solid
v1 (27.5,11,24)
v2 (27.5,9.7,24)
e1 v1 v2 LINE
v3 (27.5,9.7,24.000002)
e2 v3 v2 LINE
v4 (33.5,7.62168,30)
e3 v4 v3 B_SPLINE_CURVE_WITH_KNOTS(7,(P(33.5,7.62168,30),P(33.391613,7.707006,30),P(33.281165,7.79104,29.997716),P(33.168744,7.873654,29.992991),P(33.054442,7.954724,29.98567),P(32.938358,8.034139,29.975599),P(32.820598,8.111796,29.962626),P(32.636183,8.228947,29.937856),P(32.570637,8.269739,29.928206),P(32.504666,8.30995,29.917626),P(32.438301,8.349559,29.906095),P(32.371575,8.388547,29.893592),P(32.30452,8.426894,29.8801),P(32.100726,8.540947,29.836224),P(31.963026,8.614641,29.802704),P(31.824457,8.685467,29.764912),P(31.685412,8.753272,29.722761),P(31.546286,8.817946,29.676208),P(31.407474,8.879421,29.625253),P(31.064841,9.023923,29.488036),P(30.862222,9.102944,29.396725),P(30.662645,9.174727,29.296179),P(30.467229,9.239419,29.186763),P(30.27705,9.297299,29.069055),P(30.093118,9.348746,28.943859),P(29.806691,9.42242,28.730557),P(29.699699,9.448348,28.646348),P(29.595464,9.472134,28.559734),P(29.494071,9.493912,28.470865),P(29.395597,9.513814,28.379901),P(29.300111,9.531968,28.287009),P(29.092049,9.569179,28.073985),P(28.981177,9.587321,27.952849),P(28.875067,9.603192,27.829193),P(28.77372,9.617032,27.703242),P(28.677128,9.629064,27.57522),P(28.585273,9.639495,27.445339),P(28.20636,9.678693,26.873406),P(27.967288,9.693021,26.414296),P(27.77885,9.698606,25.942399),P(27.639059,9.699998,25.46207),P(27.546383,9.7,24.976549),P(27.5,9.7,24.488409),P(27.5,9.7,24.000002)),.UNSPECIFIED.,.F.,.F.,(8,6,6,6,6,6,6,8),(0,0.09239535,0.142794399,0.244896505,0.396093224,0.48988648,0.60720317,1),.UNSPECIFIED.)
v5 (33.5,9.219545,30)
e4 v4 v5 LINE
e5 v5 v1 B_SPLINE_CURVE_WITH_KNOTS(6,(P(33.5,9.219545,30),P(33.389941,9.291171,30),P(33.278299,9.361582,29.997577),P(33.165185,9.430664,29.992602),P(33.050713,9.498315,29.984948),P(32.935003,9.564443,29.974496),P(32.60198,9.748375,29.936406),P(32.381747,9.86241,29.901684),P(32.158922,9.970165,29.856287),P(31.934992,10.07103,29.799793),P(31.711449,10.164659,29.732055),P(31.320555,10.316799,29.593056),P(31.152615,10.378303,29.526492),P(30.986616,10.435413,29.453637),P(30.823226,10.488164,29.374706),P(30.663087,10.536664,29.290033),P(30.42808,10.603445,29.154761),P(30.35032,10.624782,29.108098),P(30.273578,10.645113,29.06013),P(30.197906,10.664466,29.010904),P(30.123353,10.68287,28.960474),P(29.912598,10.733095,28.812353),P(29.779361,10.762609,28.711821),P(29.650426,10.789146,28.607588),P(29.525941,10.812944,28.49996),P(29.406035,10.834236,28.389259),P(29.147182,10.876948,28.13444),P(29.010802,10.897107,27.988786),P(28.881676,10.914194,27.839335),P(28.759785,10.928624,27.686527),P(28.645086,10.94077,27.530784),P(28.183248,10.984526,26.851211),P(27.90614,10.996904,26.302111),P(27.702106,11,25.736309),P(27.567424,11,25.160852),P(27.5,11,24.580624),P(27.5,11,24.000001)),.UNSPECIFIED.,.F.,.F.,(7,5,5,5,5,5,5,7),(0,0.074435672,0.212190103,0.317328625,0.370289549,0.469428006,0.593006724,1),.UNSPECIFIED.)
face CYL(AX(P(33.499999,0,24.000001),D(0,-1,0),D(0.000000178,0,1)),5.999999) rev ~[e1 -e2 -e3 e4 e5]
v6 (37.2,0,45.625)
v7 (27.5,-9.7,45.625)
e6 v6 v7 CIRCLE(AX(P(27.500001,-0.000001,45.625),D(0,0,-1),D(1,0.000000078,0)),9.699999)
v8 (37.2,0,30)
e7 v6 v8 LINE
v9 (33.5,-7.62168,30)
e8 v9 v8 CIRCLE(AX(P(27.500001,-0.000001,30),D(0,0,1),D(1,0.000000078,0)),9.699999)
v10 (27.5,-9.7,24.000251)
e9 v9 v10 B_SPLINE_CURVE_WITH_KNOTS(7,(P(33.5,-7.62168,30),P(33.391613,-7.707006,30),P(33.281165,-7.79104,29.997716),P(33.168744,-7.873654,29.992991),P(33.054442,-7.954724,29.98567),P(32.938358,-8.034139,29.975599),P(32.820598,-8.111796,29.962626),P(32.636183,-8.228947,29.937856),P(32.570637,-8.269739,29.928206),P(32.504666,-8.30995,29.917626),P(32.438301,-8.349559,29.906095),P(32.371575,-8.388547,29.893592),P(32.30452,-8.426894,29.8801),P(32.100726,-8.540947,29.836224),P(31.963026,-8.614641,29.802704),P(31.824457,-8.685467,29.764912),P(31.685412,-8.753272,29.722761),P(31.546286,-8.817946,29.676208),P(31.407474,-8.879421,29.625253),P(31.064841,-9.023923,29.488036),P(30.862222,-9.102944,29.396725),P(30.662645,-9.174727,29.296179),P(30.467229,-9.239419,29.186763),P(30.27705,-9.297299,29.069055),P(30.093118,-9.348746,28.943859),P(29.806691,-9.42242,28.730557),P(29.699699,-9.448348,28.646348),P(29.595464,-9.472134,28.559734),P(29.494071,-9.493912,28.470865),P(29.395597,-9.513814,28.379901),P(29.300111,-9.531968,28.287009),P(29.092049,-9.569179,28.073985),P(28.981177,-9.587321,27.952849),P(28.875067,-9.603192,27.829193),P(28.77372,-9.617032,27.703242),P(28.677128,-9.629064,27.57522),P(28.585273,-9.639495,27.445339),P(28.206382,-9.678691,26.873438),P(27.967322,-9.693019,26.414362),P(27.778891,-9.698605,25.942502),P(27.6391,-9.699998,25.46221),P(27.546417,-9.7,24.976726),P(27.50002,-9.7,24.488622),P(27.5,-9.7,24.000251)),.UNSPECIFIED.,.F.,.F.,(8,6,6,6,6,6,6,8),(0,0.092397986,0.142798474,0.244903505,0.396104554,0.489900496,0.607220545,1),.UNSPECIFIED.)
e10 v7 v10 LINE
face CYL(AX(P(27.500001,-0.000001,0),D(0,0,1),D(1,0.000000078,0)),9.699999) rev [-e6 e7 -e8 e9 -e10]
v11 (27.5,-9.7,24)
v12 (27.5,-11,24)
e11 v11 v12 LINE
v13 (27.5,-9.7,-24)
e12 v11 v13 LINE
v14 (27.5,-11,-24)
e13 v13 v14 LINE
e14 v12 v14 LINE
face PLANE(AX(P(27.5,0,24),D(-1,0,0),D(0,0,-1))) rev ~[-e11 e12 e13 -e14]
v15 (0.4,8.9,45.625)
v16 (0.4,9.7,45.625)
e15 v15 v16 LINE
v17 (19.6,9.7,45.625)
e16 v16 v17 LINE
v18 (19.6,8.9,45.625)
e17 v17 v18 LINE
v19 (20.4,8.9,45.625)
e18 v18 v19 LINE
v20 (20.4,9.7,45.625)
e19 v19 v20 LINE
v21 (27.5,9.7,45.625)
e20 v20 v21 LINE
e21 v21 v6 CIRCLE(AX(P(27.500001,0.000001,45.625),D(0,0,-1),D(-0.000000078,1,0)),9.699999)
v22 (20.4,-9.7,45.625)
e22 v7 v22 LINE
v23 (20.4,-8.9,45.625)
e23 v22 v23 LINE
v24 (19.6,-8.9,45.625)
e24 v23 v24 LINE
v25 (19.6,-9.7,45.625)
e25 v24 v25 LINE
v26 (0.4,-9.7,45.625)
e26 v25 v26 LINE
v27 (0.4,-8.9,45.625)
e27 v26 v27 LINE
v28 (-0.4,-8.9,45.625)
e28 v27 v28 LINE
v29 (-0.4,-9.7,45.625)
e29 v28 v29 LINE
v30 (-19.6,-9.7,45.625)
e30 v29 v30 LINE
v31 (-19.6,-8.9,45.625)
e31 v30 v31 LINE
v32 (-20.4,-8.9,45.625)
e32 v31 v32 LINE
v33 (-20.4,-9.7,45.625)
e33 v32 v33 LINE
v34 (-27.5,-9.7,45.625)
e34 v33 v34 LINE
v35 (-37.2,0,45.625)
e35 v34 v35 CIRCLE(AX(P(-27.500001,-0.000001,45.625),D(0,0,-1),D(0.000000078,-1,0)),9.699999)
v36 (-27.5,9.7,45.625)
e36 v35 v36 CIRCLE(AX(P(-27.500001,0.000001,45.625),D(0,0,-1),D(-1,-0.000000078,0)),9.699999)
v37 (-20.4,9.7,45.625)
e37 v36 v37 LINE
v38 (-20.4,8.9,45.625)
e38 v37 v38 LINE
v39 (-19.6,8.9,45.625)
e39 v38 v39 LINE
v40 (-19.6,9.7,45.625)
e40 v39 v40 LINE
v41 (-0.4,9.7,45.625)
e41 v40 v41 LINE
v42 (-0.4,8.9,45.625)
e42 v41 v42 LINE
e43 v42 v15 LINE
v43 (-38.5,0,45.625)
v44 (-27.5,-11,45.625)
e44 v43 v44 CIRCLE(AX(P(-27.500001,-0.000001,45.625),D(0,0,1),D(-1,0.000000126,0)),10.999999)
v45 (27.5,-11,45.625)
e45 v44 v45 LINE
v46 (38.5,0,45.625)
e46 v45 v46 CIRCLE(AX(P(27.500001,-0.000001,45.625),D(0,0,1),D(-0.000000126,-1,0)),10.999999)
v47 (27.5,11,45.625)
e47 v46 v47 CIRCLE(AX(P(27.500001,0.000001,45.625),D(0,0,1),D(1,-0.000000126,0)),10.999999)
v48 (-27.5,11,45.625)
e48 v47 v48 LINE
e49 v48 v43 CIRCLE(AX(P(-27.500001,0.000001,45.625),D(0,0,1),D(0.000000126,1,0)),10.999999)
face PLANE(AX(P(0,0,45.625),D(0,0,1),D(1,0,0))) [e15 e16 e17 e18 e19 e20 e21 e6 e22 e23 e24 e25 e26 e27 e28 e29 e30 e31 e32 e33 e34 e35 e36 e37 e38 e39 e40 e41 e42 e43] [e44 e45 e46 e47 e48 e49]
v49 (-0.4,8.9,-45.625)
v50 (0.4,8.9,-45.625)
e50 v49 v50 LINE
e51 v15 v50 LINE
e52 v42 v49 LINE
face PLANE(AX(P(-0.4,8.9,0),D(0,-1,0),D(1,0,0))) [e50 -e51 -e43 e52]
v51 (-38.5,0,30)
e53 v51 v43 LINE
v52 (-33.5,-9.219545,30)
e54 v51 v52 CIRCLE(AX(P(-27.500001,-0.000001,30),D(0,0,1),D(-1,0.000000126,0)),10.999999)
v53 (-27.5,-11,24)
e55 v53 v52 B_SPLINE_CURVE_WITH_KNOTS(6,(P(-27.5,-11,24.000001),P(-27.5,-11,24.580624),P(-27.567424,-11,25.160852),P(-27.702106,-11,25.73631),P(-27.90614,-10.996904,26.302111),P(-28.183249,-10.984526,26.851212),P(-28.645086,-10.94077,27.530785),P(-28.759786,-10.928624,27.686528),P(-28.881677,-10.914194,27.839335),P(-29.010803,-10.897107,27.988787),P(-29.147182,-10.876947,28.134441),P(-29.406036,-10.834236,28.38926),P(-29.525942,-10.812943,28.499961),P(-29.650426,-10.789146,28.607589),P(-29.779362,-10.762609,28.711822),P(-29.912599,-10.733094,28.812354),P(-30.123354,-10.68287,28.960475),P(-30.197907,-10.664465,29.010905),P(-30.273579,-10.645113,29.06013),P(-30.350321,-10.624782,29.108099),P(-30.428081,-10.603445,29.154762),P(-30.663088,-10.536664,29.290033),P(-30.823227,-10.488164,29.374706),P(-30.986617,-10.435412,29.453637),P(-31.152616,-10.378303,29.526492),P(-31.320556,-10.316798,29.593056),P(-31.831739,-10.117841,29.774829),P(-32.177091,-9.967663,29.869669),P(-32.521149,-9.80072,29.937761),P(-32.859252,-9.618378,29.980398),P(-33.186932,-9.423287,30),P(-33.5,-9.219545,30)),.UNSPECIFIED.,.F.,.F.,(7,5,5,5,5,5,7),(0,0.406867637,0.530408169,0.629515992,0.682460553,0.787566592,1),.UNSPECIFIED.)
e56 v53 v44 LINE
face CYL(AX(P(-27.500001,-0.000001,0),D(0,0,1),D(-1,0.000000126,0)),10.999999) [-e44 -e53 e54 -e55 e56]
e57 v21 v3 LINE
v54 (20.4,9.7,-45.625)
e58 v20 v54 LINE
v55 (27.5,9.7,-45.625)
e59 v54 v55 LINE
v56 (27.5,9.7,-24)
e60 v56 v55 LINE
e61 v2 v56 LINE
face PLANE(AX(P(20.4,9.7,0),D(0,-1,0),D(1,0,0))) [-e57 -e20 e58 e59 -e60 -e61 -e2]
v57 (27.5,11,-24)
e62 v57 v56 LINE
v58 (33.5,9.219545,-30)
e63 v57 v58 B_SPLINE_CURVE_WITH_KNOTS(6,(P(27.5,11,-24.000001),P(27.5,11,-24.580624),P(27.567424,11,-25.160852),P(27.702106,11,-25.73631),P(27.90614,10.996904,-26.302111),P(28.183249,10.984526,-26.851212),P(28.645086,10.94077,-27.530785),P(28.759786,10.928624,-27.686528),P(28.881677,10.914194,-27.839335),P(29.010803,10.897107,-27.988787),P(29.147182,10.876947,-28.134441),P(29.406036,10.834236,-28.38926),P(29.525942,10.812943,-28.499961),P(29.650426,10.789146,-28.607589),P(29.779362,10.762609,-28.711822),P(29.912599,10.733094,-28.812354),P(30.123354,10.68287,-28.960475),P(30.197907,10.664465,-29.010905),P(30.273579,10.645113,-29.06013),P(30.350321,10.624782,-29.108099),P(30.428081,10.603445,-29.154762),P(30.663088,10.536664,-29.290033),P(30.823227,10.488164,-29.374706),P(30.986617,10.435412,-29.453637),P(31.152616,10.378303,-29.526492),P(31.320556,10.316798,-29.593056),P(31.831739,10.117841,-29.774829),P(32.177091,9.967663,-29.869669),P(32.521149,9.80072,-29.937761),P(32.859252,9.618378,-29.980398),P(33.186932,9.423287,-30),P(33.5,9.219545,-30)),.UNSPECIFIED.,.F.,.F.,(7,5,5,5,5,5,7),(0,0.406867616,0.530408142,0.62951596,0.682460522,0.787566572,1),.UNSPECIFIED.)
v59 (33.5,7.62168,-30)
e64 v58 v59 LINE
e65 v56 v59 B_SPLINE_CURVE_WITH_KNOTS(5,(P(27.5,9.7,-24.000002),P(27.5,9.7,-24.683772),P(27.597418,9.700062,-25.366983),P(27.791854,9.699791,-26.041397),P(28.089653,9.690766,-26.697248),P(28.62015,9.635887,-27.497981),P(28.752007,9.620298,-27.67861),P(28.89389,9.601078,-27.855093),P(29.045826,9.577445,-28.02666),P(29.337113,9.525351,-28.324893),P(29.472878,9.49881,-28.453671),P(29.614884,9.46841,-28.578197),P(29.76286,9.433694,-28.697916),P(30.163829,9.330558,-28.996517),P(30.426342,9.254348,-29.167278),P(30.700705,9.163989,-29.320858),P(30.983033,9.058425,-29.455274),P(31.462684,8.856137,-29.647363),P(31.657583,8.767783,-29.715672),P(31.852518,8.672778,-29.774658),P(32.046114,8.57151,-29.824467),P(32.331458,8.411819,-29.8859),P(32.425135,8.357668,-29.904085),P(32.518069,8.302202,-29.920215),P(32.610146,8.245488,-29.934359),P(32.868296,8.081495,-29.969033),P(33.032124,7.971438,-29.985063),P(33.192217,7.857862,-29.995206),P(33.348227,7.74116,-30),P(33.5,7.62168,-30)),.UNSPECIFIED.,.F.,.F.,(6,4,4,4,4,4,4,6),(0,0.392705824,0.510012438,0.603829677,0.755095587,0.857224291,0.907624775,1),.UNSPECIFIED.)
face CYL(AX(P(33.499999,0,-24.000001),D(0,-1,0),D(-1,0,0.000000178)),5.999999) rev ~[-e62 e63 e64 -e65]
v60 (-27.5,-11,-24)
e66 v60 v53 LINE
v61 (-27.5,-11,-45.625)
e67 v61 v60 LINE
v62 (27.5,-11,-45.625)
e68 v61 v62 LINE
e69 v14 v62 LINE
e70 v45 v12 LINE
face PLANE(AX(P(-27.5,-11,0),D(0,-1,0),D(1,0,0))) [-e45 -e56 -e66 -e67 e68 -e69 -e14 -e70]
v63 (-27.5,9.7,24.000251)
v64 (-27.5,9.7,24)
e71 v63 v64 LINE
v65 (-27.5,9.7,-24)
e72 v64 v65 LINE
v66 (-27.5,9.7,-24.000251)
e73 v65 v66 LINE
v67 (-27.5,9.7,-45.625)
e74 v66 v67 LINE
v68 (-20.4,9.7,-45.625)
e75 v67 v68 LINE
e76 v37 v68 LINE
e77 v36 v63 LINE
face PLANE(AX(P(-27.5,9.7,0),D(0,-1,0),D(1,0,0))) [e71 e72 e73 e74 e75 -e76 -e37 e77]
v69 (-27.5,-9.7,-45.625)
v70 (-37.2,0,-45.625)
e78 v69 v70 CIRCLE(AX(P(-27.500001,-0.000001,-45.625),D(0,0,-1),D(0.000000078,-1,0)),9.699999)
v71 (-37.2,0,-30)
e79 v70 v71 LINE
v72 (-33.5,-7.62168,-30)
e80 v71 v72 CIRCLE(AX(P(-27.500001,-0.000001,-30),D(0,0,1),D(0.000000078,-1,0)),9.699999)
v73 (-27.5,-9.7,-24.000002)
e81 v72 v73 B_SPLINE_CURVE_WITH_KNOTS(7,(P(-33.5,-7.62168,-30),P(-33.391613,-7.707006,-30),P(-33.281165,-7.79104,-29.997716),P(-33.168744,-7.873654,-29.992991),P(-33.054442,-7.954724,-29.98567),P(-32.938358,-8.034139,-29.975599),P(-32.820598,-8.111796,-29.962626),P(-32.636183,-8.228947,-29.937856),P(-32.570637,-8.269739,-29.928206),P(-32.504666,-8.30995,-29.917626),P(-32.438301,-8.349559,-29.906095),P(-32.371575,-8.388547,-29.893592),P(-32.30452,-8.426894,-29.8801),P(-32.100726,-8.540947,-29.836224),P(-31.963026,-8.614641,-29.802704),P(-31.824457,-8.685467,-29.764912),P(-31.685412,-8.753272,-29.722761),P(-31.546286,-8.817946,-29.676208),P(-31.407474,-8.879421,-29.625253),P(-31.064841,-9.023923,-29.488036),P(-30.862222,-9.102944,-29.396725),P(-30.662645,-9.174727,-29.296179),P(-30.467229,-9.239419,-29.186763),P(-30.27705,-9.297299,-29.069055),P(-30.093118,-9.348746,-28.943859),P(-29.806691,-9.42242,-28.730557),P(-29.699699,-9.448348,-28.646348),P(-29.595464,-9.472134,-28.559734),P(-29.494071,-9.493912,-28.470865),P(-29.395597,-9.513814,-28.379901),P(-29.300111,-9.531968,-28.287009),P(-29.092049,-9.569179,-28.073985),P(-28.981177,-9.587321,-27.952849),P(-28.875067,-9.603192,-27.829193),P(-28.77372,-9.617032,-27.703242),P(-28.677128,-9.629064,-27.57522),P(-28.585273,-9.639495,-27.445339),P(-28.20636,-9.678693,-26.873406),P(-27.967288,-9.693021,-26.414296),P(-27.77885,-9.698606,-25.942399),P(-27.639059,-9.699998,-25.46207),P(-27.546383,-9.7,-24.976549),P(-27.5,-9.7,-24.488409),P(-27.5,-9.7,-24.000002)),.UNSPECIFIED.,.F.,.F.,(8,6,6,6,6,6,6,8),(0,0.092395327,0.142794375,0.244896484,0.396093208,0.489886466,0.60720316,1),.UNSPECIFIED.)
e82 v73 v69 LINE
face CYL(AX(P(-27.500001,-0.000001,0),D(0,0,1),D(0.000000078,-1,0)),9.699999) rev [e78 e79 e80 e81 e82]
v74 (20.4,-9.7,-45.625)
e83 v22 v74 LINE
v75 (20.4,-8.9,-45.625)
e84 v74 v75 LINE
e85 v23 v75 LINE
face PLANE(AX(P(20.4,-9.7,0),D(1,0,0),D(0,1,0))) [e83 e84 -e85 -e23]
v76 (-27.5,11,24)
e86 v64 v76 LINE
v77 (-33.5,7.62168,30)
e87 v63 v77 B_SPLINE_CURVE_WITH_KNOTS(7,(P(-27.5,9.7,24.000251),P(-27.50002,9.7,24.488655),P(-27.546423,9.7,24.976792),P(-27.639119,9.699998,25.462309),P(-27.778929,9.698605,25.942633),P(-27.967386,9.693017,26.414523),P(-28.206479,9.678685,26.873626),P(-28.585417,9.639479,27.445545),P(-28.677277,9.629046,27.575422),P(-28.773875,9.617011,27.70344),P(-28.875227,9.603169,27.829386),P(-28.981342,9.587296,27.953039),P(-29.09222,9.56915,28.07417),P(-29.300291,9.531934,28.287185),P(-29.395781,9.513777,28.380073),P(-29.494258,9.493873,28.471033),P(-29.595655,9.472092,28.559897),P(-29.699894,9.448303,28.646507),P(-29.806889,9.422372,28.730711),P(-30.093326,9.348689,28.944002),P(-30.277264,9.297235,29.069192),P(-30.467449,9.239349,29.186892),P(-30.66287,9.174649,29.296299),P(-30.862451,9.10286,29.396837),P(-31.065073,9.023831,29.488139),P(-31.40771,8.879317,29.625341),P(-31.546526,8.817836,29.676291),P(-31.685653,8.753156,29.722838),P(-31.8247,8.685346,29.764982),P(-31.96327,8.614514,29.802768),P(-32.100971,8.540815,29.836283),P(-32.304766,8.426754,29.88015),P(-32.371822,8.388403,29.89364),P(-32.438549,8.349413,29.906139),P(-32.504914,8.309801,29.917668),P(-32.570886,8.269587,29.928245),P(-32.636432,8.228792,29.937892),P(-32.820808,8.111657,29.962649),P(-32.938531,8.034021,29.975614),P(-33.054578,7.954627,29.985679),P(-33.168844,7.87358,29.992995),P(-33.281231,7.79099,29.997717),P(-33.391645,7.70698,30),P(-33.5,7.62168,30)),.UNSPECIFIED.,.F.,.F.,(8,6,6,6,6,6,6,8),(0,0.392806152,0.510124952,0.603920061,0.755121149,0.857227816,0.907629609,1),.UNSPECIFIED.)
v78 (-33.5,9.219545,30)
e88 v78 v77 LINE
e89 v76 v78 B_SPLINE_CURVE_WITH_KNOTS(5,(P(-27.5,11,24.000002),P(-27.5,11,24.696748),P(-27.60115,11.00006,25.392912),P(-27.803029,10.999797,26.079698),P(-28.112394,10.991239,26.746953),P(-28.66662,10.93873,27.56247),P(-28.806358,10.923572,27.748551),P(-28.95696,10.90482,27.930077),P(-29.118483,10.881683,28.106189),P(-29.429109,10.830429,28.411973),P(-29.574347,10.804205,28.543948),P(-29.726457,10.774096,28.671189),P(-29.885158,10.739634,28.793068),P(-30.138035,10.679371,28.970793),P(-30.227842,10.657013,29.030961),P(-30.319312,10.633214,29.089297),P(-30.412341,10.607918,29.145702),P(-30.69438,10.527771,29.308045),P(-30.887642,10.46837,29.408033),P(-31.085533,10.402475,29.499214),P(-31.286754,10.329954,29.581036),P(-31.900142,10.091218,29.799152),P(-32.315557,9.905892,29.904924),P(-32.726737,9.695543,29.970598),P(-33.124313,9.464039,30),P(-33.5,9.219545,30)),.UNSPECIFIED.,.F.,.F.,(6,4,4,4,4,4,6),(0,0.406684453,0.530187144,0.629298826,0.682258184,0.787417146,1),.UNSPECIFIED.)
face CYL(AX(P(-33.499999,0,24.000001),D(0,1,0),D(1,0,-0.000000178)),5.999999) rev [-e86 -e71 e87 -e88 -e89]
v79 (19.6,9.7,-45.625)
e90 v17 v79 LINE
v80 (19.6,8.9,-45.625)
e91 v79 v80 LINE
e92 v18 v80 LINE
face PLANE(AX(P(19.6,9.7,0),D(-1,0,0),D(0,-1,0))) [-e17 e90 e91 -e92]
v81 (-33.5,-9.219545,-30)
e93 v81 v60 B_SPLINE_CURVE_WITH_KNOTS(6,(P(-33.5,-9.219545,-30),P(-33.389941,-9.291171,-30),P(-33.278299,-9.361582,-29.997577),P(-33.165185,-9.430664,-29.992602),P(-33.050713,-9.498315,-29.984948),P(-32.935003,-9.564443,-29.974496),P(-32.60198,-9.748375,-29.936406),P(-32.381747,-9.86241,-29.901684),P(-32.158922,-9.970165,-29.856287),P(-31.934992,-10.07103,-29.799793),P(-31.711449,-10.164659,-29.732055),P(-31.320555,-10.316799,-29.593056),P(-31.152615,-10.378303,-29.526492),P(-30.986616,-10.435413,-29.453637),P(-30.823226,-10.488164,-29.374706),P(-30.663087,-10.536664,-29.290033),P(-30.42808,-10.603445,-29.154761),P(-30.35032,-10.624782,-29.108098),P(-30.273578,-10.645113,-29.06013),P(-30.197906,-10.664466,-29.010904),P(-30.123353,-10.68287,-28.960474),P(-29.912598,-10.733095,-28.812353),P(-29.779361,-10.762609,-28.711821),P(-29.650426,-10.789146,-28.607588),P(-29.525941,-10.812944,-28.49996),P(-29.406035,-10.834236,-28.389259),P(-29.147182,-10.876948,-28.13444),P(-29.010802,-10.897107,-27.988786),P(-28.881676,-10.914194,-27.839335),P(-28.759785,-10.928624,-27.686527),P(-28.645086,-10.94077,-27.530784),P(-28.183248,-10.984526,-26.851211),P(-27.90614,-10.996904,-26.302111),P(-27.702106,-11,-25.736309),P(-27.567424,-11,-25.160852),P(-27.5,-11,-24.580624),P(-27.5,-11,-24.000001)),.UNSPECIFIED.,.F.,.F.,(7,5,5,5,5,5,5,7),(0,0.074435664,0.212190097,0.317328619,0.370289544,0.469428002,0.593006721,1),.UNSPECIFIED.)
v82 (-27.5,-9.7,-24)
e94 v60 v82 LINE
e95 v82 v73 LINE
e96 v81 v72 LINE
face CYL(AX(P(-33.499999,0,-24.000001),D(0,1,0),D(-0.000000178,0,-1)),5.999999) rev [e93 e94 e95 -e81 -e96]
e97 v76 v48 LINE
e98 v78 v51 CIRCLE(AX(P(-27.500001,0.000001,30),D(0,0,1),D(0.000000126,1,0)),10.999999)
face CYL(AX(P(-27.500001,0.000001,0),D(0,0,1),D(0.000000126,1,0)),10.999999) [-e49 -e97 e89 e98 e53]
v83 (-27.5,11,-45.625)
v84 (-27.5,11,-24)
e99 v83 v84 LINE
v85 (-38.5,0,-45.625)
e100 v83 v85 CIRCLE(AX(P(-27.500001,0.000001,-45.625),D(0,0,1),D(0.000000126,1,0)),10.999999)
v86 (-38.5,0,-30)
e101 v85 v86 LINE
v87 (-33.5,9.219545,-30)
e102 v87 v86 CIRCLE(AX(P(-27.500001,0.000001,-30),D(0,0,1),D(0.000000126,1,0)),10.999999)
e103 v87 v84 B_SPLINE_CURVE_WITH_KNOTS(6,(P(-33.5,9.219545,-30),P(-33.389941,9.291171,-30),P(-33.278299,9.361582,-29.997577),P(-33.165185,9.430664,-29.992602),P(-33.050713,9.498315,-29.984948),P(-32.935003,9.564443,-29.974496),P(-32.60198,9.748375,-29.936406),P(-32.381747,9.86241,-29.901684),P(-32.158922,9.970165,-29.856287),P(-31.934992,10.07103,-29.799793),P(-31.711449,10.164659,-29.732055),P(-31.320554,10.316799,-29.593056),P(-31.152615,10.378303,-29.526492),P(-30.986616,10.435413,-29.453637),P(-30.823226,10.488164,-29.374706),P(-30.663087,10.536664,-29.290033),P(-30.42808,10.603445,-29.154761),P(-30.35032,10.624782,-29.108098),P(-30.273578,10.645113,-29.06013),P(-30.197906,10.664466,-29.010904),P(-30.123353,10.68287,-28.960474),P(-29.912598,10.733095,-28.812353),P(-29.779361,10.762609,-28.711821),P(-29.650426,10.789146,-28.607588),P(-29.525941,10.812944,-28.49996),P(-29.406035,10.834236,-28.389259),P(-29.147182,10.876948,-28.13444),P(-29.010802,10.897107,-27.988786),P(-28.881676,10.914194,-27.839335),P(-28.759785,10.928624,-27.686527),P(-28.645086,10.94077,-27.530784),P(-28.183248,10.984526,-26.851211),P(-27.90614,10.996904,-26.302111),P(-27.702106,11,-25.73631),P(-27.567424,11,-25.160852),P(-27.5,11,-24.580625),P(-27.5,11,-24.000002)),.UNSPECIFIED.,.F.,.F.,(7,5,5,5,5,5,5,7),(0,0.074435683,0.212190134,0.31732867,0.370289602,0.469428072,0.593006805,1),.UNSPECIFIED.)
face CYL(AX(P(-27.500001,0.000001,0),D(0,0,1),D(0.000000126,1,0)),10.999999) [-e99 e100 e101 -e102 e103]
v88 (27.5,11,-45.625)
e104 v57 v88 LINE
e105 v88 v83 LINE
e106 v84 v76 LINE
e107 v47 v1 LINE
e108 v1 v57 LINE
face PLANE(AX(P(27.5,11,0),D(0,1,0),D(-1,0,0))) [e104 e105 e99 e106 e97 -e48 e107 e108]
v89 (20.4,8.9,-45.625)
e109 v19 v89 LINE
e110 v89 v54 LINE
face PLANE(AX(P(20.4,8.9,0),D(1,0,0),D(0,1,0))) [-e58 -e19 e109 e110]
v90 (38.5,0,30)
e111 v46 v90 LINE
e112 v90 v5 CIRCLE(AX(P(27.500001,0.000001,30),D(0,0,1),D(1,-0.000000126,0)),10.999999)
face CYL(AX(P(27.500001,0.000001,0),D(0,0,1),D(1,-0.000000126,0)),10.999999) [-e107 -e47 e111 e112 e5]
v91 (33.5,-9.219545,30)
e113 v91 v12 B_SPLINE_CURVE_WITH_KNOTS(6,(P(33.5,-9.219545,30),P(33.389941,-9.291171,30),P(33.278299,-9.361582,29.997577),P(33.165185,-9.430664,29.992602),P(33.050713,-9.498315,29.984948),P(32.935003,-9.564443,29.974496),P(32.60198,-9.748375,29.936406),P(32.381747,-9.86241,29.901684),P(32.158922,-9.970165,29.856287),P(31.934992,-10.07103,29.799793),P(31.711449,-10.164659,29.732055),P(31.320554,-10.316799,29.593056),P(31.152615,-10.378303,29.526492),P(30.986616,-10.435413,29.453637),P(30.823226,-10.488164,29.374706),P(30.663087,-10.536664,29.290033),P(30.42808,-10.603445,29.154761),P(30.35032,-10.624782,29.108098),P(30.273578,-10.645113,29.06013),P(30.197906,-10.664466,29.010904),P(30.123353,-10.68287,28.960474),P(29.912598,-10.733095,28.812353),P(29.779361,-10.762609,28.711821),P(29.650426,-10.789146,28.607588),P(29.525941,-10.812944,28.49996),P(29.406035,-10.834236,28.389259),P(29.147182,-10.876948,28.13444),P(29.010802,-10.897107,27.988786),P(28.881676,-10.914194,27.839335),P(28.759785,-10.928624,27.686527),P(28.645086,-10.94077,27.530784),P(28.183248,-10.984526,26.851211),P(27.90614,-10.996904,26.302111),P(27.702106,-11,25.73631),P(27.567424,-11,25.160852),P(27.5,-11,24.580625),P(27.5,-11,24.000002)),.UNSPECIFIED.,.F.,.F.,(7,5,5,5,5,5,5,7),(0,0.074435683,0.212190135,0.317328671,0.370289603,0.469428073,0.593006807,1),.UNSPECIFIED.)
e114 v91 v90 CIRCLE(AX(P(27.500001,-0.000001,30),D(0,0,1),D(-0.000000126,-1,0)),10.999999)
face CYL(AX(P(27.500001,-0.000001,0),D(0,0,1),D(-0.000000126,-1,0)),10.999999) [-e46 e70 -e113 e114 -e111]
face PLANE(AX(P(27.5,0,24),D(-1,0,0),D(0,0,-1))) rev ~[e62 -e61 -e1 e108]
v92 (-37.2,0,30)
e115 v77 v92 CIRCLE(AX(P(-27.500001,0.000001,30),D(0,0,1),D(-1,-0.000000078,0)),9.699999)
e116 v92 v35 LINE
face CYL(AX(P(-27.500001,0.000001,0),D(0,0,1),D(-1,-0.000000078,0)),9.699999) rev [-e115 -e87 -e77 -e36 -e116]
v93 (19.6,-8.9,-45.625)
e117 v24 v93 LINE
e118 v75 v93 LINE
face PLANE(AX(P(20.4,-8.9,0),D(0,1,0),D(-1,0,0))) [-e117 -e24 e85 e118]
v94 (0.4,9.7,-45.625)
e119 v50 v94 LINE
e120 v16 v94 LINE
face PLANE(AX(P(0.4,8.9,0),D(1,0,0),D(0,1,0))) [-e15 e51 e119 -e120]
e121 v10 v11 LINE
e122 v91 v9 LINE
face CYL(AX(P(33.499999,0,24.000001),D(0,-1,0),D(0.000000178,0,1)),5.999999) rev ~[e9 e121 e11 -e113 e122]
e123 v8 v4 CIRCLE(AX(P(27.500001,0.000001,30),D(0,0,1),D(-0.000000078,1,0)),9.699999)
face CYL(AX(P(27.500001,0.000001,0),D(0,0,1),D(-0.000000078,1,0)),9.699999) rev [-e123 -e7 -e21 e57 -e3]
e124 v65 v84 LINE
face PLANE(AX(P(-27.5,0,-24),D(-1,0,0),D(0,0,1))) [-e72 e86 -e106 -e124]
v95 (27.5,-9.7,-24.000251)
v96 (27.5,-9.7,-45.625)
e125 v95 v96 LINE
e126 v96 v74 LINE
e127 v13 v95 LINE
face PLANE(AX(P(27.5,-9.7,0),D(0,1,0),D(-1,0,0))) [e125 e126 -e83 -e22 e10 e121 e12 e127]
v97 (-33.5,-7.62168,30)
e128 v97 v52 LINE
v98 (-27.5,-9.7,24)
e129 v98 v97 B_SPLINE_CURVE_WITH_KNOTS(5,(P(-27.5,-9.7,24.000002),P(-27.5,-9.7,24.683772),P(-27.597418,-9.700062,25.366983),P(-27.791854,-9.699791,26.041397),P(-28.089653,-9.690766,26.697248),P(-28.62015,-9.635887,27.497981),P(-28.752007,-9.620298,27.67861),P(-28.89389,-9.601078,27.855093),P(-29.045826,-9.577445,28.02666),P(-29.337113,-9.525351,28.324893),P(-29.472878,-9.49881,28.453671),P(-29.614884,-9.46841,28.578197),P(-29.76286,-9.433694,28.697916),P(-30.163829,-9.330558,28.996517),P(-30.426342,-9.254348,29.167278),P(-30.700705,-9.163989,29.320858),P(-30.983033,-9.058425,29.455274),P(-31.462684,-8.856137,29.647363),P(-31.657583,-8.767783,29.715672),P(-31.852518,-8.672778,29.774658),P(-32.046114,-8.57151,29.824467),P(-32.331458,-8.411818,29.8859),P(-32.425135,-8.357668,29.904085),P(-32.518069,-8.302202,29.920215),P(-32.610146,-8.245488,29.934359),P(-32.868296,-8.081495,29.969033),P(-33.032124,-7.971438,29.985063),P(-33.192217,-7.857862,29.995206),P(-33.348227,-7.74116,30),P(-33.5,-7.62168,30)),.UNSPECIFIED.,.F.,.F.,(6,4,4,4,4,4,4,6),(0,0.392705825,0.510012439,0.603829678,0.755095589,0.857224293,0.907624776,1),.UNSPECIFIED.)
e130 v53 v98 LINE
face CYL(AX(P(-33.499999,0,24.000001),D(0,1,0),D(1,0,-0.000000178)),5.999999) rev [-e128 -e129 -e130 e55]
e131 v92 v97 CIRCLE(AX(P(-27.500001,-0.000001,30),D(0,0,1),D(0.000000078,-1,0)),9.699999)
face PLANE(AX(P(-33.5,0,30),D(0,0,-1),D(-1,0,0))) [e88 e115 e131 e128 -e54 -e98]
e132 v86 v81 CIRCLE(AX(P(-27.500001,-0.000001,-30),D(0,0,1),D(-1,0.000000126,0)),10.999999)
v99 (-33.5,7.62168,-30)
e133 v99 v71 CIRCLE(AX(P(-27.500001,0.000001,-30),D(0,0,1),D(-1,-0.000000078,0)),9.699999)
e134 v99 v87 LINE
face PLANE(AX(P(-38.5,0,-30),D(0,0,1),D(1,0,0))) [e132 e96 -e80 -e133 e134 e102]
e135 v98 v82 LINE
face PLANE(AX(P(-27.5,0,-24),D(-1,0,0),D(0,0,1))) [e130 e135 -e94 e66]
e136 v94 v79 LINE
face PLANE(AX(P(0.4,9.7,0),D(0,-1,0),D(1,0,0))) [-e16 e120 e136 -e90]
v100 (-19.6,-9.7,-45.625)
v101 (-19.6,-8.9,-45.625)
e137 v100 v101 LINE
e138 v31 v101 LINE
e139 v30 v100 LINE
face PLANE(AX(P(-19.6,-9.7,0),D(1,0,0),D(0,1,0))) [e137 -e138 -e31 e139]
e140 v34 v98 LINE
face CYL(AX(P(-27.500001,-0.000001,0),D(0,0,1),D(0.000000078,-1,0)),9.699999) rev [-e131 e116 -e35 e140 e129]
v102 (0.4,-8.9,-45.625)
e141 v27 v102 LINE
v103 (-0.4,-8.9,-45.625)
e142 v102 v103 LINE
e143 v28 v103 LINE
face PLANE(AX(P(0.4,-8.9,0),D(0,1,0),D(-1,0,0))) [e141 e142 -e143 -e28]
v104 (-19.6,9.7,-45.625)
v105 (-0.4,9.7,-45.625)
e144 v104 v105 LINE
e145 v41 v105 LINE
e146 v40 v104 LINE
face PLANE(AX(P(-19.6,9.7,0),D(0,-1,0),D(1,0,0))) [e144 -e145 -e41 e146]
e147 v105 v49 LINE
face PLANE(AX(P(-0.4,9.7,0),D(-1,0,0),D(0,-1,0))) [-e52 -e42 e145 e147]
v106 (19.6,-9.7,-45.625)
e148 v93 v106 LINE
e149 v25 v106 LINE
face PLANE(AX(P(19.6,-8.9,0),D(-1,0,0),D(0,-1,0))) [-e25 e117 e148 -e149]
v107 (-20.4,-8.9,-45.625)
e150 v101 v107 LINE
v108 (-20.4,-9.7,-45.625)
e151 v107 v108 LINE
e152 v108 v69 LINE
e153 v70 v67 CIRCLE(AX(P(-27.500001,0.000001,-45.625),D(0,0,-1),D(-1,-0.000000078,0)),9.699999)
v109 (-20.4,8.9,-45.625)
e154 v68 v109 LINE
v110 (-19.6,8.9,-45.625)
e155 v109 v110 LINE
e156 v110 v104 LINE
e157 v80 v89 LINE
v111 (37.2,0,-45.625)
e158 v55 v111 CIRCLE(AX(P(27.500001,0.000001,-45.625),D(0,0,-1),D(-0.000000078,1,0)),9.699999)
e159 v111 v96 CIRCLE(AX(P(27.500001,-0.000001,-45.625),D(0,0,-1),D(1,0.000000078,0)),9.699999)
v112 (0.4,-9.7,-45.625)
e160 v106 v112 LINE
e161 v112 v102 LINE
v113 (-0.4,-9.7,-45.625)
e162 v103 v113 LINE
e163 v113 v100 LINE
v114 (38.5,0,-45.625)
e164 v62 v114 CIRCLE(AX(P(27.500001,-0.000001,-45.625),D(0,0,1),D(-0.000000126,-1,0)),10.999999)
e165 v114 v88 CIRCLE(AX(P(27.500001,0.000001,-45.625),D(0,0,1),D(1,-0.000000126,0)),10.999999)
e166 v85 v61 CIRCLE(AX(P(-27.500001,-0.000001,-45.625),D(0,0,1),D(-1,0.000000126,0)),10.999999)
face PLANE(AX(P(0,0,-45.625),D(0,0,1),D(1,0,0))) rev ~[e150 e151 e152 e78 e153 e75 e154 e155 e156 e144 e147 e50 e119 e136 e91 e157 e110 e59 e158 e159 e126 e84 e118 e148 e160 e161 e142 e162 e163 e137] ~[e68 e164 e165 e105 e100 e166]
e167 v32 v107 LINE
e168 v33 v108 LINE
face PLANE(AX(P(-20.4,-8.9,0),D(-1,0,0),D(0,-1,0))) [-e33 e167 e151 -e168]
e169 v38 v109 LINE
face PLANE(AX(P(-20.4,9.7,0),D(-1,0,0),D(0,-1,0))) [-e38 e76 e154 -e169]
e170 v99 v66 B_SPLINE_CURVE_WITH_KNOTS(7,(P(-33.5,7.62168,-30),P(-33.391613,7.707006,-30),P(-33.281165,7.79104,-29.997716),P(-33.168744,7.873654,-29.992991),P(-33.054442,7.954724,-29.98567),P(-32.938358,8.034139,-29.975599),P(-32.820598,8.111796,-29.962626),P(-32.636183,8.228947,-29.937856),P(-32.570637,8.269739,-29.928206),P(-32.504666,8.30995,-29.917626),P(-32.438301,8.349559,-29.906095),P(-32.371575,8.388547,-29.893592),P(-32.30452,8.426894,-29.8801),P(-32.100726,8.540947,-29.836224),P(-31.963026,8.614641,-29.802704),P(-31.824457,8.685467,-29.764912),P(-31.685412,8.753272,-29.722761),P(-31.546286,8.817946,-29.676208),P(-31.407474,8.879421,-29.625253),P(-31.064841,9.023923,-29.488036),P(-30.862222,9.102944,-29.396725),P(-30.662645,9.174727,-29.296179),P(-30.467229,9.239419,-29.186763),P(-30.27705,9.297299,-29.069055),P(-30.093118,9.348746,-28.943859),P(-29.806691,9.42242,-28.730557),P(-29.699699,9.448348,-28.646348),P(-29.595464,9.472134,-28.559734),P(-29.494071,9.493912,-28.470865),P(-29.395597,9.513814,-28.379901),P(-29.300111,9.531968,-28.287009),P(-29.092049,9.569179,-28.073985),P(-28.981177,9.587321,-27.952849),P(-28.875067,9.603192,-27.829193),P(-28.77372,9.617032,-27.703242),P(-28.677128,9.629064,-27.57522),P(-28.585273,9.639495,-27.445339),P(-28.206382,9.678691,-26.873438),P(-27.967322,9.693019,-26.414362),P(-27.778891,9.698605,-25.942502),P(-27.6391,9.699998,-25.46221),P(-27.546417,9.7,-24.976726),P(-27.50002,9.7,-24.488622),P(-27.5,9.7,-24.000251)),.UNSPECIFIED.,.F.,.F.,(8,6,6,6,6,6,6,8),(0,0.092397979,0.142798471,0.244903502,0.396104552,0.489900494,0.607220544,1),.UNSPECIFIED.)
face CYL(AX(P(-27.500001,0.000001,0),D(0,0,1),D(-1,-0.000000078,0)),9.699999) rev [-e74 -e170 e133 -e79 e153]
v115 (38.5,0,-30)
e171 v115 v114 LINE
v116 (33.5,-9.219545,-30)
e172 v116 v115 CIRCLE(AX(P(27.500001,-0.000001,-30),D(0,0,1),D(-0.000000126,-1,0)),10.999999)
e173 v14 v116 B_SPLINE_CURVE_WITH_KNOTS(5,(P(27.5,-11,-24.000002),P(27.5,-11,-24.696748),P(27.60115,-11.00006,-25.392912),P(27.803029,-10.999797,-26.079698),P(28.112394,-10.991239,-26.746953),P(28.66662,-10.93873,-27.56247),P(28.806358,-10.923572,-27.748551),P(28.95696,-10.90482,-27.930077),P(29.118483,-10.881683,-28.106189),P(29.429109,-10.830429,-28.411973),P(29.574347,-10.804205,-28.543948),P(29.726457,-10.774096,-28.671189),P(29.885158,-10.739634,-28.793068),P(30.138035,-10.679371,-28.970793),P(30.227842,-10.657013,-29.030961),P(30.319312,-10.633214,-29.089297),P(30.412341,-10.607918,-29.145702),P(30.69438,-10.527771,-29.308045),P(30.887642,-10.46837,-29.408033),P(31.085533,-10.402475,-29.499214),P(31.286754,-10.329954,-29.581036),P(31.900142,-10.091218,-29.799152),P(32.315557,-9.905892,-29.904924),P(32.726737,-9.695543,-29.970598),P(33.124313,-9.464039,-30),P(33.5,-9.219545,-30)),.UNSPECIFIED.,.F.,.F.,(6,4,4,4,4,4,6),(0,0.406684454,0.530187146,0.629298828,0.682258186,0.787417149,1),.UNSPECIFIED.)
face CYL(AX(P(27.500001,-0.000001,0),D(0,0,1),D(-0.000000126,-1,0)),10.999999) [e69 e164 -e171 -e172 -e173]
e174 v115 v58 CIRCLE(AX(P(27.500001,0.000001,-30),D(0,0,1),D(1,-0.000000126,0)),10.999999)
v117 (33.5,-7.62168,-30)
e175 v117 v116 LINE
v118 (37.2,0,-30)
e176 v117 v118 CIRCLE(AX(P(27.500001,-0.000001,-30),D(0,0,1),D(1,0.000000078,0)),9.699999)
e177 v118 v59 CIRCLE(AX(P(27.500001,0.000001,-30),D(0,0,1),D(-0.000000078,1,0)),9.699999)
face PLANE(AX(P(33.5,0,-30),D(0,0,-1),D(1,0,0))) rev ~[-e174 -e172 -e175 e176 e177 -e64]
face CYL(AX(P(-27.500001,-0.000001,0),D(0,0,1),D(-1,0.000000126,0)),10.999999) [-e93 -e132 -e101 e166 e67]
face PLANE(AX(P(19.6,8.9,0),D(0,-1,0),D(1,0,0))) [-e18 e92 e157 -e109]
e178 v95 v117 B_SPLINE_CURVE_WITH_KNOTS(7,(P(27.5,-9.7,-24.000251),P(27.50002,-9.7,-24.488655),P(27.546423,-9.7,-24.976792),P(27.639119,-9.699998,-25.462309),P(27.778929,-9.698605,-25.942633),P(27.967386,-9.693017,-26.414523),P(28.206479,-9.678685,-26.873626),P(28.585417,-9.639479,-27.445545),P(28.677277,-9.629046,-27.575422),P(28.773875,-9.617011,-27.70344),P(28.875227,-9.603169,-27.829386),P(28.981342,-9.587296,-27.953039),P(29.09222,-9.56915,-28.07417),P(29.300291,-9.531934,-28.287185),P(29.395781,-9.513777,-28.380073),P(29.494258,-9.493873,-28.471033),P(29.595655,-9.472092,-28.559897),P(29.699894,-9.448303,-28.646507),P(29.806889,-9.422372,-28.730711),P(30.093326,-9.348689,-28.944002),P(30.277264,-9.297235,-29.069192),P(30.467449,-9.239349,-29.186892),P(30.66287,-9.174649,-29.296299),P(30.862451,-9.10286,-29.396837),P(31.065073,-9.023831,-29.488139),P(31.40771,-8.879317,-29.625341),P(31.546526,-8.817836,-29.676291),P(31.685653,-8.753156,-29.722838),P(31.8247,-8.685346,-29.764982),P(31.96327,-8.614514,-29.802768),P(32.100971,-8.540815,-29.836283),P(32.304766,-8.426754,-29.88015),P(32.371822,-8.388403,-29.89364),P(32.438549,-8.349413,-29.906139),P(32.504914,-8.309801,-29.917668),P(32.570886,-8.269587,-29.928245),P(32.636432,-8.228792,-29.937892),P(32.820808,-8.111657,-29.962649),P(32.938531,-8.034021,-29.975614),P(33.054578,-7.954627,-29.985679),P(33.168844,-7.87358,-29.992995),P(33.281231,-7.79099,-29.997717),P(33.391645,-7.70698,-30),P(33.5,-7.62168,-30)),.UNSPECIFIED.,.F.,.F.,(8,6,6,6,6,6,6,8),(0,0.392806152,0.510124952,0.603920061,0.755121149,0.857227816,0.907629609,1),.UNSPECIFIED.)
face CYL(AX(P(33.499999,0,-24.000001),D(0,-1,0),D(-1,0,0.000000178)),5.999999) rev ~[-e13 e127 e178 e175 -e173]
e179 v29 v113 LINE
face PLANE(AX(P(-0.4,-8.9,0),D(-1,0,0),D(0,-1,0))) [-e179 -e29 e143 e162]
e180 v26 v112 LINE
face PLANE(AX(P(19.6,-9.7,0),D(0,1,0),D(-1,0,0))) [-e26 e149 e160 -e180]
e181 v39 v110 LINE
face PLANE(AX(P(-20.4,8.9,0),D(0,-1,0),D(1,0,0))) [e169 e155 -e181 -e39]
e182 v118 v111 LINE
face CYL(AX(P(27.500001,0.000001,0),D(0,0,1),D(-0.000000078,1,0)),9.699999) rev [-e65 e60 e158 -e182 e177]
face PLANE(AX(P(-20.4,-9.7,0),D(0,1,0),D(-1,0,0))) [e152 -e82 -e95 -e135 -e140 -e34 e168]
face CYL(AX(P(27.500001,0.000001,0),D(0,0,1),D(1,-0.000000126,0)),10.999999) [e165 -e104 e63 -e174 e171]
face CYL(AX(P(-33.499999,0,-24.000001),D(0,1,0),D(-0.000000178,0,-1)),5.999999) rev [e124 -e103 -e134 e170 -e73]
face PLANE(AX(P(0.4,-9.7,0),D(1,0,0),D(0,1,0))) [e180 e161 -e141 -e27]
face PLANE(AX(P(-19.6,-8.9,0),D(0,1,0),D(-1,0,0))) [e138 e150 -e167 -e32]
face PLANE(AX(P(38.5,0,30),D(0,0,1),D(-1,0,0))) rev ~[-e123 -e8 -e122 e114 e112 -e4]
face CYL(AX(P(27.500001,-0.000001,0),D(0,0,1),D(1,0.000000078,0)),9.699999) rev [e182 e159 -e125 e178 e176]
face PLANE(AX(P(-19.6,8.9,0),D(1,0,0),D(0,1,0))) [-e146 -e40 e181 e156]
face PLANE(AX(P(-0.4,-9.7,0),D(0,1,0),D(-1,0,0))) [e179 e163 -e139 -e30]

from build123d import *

# Parameters (mm, degrees)
F1_DEPTH = 45.625
F3_DEPTH = 12.5


with BuildPart() as f1:
    # F0 (on Top) → F1 (new body, symmetric)
    with BuildSketch(Plane.XY):
        with BuildLine():
            Line((27.5, 11), (-27.5, 11))
            ThreePointArc((-27.5, 11), (-35.278175, 7.778175), (-38.5, 0))
            ThreePointArc((-38.5, 0), (-35.278175, -7.778175), (-27.5, -11))
            Line((-27.5, -11), (27.5, -11))
            ThreePointArc((27.5, -11), (35.278175, -7.778175), (38.5, 0))
            ThreePointArc((38.5, 0), (35.278175, 7.778175), (27.5, 11))
        make_face()
        with BuildLine():
            ThreePointArc((-37.2, 0), (-34.358936, 6.858936), (-27.5, 9.7))
            Line((-27.5, 9.7), (-20.4, 9.7))
            Line((-20.4, 9.7), (-20.4, 8.9))
            Line((-20.4, 8.9), (-19.6, 8.9))
            Line((-19.6, 8.9), (-19.6, 9.7))
            Line((-19.6, 9.7), (-0.4, 9.7))
            Line((-0.4, 9.7), (-0.4, 8.9))
            Line((-0.4, 8.9), (0.4, 8.9))
            Line((0.4, 8.9), (0.4, 9.7))
            Line((0.4, 9.7), (19.6, 9.7))
            Line((19.6, 9.7), (19.6, 8.9))
            Line((19.6, 8.9), (20.4, 8.9))
            Line((20.4, 8.9), (20.4, 9.7))
            Line((20.4, 9.7), (27.5, 9.7))
            ThreePointArc((27.5, 9.7), (34.358936, 6.858936), (37.2, 0))
            ThreePointArc((37.2, 0), (34.358936, -6.858936), (27.5, -9.7))
            Line((27.5, -9.7), (20.4, -9.7))
            Line((20.4, -9.7), (20.4, -8.9))
            Line((20.4, -8.9), (19.6, -8.9))
            Line((19.6, -8.9), (19.6, -9.7))
            Line((19.6, -9.7), (0.4, -9.7))
            Line((0.4, -9.7), (0.4, -8.9))
            Line((0.4, -8.9), (-0.4, -8.9))
            Line((-0.4, -8.9), (-0.4, -9.7))
            Line((-0.4, -9.7), (-19.6, -9.7))
            Line((-19.6, -9.7), (-19.6, -8.9))
            Line((-19.6, -8.9), (-20.4, -8.9))
            Line((-20.4, -8.9), (-20.4, -9.7))
            Line((-20.4, -9.7), (-27.5, -9.7))
            ThreePointArc((-27.5, -9.7), (-34.358936, -6.858936), (-37.2, 0))
        make_face(mode=Mode.SUBTRACT)
    extrude(amount=F1_DEPTH, both=True)

    # F2 (on Front) → F3 (cut, symmetric)
    with BuildSketch(Plane.XZ):
        with BuildLine():
            ThreePointArc((-27.5, 24), (-29.257359, 28.242641), (-33.5, 30))
            Line((-33.5, 30), (-38.5, 30))
            Line((-38.5, 30), (-38.5, -30))
            Line((-38.5, -30), (-33.5, -30))
            ThreePointArc((-33.5, -30), (-29.257359, -28.242641), (-27.5, -24))
            Line((-27.5, -24), (-27.5, 24))
        make_face()
        with BuildLine():
            ThreePointArc((33.5, 30), (29.257359, 28.242641), (27.5, 24))
            Line((27.5, 24), (27.5, -24))
            ThreePointArc((27.5, -24), (29.257359, -28.242641), (33.5, -30))
            Line((33.5, -30), (38.5, -30))
            Line((38.5, -30), (38.5, 30))
            Line((38.5, 30), (33.5, 30))
        make_face()
    extrude(amount=F3_DEPTH, both=True, mode=Mode.SUBTRACT)


solid = f1.part
